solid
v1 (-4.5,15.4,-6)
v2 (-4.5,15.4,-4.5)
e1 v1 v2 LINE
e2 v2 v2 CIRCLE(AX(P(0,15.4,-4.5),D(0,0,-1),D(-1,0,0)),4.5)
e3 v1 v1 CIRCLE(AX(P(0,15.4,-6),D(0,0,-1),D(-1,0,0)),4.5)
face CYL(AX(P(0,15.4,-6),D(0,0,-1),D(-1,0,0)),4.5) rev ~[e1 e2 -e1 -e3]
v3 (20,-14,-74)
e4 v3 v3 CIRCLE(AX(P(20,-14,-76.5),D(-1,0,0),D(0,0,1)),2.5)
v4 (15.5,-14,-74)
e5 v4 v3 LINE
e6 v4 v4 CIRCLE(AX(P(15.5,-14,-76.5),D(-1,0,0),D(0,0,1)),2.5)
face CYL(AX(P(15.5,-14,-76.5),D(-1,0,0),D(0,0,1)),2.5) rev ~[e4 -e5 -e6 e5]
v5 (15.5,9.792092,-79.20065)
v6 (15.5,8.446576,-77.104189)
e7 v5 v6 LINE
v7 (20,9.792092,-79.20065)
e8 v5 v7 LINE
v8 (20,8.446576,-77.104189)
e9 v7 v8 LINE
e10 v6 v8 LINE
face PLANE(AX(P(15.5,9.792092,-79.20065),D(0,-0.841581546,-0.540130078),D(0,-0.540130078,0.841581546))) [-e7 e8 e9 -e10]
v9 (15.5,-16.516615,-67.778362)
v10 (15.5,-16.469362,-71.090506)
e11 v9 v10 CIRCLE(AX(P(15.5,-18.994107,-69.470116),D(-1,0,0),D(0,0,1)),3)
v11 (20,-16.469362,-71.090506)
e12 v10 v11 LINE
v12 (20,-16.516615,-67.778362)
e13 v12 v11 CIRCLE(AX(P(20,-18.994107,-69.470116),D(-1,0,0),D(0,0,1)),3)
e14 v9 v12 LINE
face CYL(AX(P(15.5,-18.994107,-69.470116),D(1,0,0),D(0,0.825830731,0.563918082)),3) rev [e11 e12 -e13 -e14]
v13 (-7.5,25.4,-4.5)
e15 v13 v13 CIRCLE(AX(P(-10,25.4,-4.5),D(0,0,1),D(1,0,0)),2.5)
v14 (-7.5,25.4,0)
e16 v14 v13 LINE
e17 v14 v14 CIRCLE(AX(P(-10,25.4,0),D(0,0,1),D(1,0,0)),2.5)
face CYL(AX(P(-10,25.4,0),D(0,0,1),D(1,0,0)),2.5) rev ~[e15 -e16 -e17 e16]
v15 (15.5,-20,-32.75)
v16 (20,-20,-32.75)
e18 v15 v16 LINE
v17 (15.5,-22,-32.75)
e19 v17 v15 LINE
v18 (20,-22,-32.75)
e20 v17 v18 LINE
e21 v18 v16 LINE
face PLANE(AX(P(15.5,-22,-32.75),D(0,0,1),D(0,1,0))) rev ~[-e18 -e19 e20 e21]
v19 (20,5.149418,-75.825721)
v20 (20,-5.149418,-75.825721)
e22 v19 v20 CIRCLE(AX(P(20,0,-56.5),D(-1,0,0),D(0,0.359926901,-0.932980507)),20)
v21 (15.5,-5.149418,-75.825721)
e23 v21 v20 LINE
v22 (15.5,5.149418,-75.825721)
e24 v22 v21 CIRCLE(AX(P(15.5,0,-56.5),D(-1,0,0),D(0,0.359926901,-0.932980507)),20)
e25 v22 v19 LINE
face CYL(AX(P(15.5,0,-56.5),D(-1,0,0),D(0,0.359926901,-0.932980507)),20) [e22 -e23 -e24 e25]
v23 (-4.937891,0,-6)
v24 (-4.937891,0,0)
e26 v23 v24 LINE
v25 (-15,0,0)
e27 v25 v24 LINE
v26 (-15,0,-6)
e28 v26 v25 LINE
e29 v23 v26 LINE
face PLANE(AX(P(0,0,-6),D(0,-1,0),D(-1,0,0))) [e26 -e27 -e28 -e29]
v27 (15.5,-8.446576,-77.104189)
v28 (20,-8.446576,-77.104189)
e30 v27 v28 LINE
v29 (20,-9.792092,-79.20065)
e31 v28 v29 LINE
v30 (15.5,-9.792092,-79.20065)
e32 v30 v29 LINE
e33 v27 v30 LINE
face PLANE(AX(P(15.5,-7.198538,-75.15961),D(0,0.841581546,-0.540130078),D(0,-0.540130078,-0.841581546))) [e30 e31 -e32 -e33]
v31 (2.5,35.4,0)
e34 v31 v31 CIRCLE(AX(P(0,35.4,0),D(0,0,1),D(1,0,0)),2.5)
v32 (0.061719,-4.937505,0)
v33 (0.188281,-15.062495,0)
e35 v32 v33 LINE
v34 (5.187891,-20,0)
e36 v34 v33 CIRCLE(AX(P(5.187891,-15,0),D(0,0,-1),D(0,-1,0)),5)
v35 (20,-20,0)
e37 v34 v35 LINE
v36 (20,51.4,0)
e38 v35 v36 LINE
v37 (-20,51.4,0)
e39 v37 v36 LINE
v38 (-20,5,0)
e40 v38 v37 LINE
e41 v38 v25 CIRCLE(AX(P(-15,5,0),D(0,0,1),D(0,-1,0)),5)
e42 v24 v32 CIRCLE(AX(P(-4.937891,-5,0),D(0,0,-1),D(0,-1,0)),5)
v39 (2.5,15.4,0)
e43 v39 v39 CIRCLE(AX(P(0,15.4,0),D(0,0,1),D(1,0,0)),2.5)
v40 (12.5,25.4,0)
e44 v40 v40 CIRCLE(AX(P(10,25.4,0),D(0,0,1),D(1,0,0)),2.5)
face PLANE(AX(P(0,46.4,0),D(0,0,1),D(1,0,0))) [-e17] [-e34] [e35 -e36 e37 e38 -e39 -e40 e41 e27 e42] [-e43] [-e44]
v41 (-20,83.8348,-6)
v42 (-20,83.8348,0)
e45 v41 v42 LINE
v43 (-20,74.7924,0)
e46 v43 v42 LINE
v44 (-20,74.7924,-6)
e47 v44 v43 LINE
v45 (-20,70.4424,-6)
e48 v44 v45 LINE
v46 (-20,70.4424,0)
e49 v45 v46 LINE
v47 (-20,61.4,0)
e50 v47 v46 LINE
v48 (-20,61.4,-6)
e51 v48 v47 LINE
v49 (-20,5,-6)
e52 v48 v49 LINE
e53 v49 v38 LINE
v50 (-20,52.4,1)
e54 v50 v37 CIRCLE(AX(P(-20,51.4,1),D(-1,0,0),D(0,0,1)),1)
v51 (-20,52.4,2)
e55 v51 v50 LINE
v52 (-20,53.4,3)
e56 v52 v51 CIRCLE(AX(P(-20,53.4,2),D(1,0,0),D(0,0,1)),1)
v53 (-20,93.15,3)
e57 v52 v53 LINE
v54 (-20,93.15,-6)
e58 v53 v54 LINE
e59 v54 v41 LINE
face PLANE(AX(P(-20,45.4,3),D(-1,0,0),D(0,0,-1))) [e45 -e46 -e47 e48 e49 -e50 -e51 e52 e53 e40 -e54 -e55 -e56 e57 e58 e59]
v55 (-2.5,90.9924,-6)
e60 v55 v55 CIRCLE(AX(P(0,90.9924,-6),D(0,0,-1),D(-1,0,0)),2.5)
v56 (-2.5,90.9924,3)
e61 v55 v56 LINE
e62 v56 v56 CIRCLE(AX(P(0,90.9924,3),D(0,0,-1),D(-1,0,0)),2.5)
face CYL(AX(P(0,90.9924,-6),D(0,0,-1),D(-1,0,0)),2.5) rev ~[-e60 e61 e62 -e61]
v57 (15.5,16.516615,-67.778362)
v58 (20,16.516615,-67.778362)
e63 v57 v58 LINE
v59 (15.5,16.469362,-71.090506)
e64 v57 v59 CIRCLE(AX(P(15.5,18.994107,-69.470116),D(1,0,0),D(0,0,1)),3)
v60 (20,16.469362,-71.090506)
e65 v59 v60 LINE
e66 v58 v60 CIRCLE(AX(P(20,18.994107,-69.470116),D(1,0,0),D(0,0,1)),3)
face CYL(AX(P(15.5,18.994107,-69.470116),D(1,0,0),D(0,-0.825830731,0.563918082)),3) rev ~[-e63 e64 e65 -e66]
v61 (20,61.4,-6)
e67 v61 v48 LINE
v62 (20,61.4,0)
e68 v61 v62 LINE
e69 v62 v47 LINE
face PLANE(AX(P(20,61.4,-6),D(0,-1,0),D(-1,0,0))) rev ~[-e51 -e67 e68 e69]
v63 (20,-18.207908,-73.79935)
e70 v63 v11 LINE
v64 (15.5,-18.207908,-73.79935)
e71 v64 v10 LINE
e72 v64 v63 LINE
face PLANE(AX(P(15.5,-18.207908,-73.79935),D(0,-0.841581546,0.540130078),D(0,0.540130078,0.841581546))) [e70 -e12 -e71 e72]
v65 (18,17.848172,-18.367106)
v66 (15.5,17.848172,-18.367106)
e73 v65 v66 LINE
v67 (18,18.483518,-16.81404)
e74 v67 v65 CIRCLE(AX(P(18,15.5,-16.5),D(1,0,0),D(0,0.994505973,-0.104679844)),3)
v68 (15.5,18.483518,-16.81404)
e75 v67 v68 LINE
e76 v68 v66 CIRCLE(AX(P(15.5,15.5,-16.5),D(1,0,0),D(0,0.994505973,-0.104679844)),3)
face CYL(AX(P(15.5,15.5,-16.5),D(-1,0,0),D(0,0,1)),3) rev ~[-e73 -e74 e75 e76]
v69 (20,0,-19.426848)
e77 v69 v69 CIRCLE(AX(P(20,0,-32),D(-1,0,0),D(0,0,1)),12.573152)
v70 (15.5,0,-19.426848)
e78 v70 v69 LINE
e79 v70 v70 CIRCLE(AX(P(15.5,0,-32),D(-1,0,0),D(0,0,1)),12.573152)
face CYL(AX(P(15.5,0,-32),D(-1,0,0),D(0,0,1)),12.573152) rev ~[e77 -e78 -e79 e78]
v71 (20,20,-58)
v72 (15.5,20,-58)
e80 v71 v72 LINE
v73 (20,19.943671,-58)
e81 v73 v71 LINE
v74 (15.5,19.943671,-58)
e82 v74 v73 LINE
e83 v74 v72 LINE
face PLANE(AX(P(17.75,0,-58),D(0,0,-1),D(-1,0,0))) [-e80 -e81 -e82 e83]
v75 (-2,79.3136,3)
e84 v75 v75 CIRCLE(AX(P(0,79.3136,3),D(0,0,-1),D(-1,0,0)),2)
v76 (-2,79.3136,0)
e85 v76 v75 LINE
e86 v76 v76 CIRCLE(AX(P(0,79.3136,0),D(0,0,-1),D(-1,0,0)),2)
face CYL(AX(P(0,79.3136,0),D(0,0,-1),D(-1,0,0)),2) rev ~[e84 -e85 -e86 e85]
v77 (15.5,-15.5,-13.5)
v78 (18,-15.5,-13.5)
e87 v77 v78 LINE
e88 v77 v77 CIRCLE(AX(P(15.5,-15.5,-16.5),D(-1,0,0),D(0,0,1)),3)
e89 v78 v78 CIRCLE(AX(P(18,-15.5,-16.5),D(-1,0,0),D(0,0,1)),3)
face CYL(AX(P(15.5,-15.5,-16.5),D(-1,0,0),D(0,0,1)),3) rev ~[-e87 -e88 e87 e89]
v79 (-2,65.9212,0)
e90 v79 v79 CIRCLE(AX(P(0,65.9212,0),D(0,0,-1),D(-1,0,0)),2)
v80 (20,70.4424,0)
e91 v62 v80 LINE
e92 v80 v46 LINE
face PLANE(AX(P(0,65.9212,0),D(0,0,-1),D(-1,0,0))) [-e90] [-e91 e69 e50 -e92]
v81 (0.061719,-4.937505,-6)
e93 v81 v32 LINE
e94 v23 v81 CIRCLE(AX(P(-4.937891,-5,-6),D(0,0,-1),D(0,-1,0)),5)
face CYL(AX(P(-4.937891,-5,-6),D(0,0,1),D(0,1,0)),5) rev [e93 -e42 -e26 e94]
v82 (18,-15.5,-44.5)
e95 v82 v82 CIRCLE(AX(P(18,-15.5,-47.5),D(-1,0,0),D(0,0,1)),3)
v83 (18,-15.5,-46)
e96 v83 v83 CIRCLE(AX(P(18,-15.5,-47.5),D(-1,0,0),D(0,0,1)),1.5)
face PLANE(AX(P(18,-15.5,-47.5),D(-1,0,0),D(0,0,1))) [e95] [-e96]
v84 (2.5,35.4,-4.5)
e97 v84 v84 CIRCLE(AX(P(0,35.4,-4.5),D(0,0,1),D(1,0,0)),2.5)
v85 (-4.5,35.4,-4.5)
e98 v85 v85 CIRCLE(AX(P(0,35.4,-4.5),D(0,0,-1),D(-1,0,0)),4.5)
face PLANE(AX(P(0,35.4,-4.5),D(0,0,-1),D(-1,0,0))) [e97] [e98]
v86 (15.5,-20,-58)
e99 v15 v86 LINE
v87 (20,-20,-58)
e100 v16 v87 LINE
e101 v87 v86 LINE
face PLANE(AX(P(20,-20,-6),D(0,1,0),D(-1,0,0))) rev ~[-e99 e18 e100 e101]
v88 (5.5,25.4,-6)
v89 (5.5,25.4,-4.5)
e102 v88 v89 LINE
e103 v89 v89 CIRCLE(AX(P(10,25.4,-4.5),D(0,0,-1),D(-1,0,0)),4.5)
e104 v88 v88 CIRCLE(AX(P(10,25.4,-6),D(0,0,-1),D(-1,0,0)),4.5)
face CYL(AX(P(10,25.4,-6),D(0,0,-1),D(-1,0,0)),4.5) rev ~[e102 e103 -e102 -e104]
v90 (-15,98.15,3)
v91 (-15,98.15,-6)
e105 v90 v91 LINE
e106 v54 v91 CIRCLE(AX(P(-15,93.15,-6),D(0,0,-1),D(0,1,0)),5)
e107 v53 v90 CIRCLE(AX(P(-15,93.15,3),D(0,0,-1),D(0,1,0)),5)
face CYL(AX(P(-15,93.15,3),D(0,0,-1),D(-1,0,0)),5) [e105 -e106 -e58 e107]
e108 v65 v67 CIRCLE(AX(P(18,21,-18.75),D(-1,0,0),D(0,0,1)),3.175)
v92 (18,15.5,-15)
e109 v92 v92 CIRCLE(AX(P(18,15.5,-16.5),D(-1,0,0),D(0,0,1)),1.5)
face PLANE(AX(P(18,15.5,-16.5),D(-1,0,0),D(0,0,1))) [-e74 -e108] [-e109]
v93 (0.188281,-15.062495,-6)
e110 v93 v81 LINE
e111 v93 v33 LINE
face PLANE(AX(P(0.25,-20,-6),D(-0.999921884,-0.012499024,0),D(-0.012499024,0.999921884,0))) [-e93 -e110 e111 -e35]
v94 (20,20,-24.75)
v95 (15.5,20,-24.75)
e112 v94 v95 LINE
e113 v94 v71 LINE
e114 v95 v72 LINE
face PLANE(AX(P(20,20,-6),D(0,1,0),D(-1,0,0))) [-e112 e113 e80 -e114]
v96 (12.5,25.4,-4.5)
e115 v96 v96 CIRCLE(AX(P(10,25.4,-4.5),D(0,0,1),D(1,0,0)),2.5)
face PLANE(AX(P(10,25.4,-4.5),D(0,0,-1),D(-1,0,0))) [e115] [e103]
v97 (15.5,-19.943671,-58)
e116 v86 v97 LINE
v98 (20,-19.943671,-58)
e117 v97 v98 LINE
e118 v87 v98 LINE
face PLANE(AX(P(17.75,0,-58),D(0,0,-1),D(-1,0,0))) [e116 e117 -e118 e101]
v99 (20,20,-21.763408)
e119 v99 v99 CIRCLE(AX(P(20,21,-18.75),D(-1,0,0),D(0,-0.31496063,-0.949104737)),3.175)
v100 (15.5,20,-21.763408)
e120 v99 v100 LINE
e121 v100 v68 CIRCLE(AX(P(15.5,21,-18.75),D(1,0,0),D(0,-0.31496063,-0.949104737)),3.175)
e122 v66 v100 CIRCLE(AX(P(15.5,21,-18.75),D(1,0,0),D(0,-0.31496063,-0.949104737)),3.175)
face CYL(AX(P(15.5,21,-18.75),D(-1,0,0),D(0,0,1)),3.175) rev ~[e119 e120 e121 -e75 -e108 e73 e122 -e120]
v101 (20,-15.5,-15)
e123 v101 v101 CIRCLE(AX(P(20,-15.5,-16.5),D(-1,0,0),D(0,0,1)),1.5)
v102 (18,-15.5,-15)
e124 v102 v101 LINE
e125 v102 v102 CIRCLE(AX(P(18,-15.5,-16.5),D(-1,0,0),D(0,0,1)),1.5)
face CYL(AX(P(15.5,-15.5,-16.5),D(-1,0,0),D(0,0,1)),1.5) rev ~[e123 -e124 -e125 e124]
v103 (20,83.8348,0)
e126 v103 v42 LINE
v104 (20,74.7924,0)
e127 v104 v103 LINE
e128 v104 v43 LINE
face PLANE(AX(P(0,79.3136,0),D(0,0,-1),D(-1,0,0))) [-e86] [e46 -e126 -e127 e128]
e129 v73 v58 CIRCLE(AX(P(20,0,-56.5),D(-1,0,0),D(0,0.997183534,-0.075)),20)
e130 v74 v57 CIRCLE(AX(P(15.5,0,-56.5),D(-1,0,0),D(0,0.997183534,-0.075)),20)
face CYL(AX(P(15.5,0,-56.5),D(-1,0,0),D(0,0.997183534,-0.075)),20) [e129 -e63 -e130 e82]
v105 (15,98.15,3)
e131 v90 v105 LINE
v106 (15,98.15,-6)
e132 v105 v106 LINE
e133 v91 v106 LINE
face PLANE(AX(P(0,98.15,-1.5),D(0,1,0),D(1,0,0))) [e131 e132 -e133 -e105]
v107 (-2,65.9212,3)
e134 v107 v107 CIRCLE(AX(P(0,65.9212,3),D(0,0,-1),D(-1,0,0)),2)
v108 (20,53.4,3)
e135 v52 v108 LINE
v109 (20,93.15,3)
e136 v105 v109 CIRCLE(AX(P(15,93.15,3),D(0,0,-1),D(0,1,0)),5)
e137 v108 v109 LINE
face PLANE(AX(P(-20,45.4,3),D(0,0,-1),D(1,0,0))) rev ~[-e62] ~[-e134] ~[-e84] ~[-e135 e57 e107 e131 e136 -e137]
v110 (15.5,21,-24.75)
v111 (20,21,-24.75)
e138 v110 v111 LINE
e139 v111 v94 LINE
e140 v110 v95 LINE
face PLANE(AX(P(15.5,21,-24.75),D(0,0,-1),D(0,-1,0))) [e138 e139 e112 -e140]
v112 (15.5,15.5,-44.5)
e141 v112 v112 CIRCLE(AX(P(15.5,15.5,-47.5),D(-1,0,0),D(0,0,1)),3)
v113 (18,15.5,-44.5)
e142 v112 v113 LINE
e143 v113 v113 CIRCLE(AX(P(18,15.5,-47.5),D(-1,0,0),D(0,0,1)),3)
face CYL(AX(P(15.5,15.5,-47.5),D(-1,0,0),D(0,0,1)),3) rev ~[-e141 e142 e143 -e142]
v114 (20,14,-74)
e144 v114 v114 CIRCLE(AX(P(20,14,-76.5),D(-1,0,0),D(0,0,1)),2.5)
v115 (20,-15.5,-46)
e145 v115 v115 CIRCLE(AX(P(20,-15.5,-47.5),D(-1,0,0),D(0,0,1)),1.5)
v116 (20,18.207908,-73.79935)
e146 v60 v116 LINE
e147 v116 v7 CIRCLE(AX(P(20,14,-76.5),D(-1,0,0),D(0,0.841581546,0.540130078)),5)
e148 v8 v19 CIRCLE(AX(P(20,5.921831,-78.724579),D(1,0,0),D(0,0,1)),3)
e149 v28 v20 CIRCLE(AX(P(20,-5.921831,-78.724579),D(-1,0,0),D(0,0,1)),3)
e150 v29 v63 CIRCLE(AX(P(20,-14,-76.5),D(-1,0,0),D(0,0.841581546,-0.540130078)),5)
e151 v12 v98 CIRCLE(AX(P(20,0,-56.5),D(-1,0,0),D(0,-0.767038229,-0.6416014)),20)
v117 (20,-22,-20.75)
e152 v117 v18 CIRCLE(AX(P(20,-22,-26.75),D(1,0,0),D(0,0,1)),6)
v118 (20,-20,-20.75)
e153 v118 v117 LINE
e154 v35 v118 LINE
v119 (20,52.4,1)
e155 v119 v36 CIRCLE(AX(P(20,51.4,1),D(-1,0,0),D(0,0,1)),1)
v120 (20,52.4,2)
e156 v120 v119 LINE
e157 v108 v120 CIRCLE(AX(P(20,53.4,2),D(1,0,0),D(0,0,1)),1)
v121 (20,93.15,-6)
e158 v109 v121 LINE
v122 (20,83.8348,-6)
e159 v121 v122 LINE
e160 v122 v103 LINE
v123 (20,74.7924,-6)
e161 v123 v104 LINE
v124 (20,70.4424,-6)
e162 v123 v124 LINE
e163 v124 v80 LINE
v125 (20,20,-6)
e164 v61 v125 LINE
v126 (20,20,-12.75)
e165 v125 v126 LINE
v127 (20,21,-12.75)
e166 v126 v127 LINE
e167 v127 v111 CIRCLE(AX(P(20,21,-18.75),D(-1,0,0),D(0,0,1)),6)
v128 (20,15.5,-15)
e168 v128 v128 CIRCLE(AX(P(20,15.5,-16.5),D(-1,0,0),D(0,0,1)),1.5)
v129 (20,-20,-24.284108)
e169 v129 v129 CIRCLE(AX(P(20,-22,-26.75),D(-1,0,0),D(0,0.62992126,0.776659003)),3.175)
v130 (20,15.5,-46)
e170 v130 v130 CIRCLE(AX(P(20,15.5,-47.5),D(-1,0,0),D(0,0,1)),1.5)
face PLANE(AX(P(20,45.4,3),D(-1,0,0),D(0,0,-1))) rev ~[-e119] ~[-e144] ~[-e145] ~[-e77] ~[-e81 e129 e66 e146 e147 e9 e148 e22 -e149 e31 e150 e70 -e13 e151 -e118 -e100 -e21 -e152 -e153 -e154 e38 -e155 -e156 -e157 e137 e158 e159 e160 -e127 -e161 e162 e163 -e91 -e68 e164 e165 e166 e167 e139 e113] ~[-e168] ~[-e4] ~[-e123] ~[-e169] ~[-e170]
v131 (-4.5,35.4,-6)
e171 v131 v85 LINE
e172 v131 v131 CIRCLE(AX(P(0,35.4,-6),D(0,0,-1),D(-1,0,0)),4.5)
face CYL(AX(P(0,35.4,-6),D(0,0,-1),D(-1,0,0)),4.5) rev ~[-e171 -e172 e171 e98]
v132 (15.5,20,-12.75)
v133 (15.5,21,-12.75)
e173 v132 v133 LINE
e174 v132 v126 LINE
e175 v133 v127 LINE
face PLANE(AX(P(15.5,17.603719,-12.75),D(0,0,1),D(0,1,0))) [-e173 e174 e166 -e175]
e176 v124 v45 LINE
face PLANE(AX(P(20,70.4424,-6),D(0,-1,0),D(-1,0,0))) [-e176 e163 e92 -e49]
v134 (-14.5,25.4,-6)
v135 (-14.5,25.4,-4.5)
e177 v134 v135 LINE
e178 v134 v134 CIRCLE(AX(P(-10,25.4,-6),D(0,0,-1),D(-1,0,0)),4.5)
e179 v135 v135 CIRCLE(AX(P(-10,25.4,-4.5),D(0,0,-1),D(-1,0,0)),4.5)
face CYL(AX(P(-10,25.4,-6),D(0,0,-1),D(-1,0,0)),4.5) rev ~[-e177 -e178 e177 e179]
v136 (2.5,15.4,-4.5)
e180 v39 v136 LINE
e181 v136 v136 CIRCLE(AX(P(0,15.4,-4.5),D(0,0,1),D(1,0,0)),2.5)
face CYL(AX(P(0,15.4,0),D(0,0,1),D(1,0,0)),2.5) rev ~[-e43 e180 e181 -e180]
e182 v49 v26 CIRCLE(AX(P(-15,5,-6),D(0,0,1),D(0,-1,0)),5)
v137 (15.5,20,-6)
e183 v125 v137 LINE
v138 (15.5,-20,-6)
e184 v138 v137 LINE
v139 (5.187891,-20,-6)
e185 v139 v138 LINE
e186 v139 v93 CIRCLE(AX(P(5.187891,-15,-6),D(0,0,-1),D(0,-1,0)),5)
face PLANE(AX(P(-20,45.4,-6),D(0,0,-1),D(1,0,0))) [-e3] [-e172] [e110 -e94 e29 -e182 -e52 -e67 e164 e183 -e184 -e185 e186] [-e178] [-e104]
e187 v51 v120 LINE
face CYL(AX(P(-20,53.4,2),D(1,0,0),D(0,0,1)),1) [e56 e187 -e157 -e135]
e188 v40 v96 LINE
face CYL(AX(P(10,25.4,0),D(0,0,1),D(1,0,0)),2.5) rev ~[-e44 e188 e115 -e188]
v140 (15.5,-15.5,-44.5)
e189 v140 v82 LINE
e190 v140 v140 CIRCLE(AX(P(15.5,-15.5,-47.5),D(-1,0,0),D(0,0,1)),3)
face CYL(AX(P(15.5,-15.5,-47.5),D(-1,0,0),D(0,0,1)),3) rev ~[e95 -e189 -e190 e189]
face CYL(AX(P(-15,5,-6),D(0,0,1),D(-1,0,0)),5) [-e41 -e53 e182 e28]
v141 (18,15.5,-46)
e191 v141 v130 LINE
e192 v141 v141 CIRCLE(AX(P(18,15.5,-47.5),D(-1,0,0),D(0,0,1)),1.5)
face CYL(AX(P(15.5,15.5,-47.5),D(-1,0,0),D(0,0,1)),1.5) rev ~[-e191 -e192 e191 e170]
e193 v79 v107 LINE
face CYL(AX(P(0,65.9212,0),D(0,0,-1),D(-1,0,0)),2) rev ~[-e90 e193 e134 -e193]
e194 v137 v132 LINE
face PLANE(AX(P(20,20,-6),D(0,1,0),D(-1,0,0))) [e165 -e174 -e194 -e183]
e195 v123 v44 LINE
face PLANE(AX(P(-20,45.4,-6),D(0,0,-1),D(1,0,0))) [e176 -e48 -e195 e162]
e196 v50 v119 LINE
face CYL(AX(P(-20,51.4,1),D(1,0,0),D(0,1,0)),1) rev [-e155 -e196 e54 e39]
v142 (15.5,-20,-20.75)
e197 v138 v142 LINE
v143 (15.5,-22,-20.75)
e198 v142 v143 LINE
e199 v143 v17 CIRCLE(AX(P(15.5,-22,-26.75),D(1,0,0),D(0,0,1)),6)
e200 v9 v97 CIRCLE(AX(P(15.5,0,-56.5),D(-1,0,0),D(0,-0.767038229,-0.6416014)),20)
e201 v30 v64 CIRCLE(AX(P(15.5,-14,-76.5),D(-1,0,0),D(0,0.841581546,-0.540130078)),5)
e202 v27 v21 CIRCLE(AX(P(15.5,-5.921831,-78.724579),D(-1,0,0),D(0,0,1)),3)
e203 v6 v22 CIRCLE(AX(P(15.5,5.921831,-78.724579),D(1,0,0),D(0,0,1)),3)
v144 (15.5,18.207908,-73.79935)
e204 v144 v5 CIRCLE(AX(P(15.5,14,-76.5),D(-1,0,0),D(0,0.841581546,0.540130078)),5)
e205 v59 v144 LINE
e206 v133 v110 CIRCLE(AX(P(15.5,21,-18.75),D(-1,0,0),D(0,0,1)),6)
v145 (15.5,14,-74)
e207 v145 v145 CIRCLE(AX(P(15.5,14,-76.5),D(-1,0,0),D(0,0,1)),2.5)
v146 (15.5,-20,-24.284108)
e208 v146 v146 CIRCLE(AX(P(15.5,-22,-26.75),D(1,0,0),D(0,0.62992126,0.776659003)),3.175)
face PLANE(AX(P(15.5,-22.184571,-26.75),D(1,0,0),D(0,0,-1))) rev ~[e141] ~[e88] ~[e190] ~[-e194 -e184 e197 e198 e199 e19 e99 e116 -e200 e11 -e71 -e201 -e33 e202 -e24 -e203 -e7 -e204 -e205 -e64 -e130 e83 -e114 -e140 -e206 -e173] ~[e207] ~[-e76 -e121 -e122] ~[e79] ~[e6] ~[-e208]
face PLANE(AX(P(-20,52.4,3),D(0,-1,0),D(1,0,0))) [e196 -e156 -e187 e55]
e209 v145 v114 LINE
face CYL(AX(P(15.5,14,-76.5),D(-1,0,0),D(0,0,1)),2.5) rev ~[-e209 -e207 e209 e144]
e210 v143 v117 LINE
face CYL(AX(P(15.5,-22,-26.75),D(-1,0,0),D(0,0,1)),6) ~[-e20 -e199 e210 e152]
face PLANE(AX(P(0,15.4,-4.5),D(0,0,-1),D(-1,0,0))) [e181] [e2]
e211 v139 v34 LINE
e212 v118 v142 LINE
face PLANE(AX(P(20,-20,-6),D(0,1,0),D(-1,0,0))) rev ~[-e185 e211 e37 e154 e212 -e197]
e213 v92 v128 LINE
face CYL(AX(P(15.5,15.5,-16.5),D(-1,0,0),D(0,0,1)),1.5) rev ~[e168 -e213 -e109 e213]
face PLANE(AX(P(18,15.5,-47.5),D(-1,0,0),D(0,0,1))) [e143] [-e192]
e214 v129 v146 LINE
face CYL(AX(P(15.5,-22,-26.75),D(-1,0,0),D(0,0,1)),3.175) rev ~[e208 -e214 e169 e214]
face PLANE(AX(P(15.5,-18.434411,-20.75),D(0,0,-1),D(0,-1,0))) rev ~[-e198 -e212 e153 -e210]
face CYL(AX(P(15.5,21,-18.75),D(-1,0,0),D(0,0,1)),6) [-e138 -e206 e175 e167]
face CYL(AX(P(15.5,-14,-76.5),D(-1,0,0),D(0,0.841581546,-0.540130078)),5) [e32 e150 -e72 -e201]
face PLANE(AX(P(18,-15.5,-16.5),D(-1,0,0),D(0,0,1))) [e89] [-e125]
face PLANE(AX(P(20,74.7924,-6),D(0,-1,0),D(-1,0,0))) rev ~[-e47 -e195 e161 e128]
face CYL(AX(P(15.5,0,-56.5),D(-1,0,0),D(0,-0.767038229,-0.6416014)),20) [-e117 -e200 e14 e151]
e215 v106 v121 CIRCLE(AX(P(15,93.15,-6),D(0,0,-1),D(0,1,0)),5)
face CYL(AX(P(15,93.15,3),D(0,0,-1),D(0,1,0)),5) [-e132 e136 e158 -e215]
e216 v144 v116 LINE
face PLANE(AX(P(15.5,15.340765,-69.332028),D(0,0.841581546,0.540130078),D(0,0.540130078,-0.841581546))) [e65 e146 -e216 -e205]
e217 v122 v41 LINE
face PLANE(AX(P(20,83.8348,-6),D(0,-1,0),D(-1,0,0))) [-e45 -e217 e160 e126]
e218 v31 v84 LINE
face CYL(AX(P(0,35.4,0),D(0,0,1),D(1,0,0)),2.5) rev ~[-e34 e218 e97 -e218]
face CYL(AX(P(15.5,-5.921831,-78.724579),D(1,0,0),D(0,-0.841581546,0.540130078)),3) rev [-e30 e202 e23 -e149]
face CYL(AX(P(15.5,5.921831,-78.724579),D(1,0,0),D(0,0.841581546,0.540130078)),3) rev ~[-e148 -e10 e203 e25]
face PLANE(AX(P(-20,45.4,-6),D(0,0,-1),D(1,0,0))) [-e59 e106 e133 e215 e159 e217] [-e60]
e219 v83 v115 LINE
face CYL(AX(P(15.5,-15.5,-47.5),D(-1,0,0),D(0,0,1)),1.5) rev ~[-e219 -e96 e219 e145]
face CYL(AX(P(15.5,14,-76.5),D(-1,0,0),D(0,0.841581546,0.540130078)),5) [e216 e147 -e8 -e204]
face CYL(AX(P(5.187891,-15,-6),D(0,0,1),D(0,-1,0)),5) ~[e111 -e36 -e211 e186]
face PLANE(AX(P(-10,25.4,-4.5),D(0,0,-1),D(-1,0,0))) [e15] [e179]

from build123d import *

# Parameters (mm, degrees)
SKETCH2_W            = 40
SKETCH2_H            = 65.4
SKETCH2_R            = 2.5
BOSS_EXTRUDE1_DEPTH  = 6
SKETCH3_W            = 4.5
SKETCH3_H            = 40
BOSS_EXTRUDE2_DEPTH  = 52
CUT_EXTRUDE1_REACH   = 6.5
SKETCH4_R            = 12.573151632
SKETCH4_R_2          = 1.5
SKETCH5_R            = 4.5
CUT_EXTRUDE2_DEPTH   = 1.5
SKETCH6_R            = 3
CUT_EXTRUDE3_DEPTH   = 2.5
FILLET1_R            = 5
SKETCH11_R           = 2.5
BOSS_EXTRUDE6_DEPTH  = 4.5
FILLET2_R            = 3
SKETCH9_R            = 3.175
BOSS_EXTRUDE15_DEPTH = 4.5
SKETCH24_R           = 3.175
CUT_EXTRUDE11_DEPTH  = 4.5
SKETCH15_R           = 3
CUT_EXTRUDE12_DEPTH  = 2.5
SKETCH25_W           = 40
SKETCH25_H           = 9
BOSS_EXTRUDE16_DEPTH = 52.75
SKETCH28_W           = 40
SKETCH28_H           = 2
CUT_EXTRUDE15_DEPTH  = 3
SKETCH33_W           = 40
SKETCH33_H           = 5
CUT_EXTRUDE18_DEPTH  = 3
FILLET7_R            = 1
FILLET8_R            = 5
SKETCH31_W           = 40
SKETCH31_H           = 9.0424
CUT_EXTRUDE16_DEPTH  = 6
SKETCH32_R           = 2
CUT_EXTRUDE17_DEPTH  = 4
SKETCH34_R           = 2.5
CUT_EXTRUDE19_DEPTH  = 9
CUT_EXTRUDE20_DEPTH  = 10
FILLET9_R            = 5


with BuildPart() as part:
    # Sketch2 → Boss-Extrude1 (new body)
    with BuildSketch(Plane.XY):
        with Locations((0, 12.7)):
            Rectangle(SKETCH2_W, SKETCH2_H)
        with Locations((0, 35.4)):
            Circle(SKETCH2_R, mode=Mode.SUBTRACT)
        with Locations((0, 15.4)):
            Circle(SKETCH2_R, mode=Mode.SUBTRACT)
        with Locations((-10, 25.4)):
            Circle(SKETCH2_R, mode=Mode.SUBTRACT)
        with Locations((10, 25.4)):
            Circle(SKETCH2_R, mode=Mode.SUBTRACT)
    extrude(amount=-BOSS_EXTRUDE1_DEPTH)

    # Sketch3 → Boss-Extrude2 (add)
    with BuildSketch(Plane(origin=(0, 0, -6), x_dir=(-1, 0, 0), z_dir=(0, 0, -1))):
        with Locations((-17.75, 0)):
            Rectangle(SKETCH3_W, SKETCH3_H)
    extrude(amount=BOSS_EXTRUDE2_DEPTH)

    # Sketch4 → Cut-Extrude1 (cut, up to next)
    with BuildSketch(Plane.ZY.offset(-15.5), mode=Mode.PRIVATE) as cut_extrude1_sk1:
        with Locations((-32, 0)):
            Circle(SKETCH4_R)
    cut_extrude1_tool1 = extrude(cut_extrude1_sk1.sketch, amount=-CUT_EXTRUDE1_REACH, mode=Mode.PRIVATE) & part.part
    add(cut_extrude1_tool1.solids().sort_by_distance((15.5, 0, -32))[0], mode=Mode.SUBTRACT)
    # Sketch4 → Cut-Extrude1 (cut, up to next)
    with BuildSketch(Plane.ZY.offset(-15.5), mode=Mode.PRIVATE) as cut_extrude1_sk2:
        with Locations((-16.5, 15.5)):
            Circle(SKETCH4_R_2)
    cut_extrude1_tool2 = extrude(cut_extrude1_sk2.sketch, amount=-CUT_EXTRUDE1_REACH, mode=Mode.PRIVATE) & part.part
    add(cut_extrude1_tool2.solids().sort_by_distance((15.5, 15.5, -16.5))[0], mode=Mode.SUBTRACT)
    # Sketch4 → Cut-Extrude1 (cut, up to next)
    with BuildSketch(Plane.ZY.offset(-15.5), mode=Mode.PRIVATE) as cut_extrude1_sk3:
        with Locations((-16.5, -15.5)):
            Circle(SKETCH4_R_2)
    cut_extrude1_tool3 = extrude(cut_extrude1_sk3.sketch, amount=-CUT_EXTRUDE1_REACH, mode=Mode.PRIVATE) & part.part
    add(cut_extrude1_tool3.solids().sort_by_distance((15.5, -15.5, -16.5))[0], mode=Mode.SUBTRACT)
    # Sketch4 → Cut-Extrude1 (cut, up to next)
    with BuildSketch(Plane.ZY.offset(-15.5), mode=Mode.PRIVATE) as cut_extrude1_sk4:
        with Locations((-47.5, -15.5)):
            Circle(SKETCH4_R_2)
    cut_extrude1_tool4 = extrude(cut_extrude1_sk4.sketch, amount=-CUT_EXTRUDE1_REACH, mode=Mode.PRIVATE) & part.part
    add(cut_extrude1_tool4.solids().sort_by_distance((15.5, -15.5, -47.5))[0], mode=Mode.SUBTRACT)
    # Sketch4 → Cut-Extrude1 (cut, up to next)
    with BuildSketch(Plane.ZY.offset(-15.5), mode=Mode.PRIVATE) as cut_extrude1_sk5:
        with Locations((-47.5, 15.5)):
            Circle(SKETCH4_R_2)
    cut_extrude1_tool5 = extrude(cut_extrude1_sk5.sketch, amount=-CUT_EXTRUDE1_REACH, mode=Mode.PRIVATE) & part.part
    add(cut_extrude1_tool5.solids().sort_by_distance((15.5, 15.5, -47.5))[0], mode=Mode.SUBTRACT)

    # Sketch5 → Cut-Extrude2 (cut)
    with BuildSketch(Plane(origin=(0, 0, -6), x_dir=(-1, 0, 0), z_dir=(0, 0, -1))):
        with Locations((0, 35.4)):
            Circle(SKETCH5_R)
        with Locations((10, 25.4)):
            Circle(SKETCH5_R)
        with Locations((0, 15.4)):
            Circle(SKETCH5_R)
        with Locations((-10, 25.4)):
            Circle(SKETCH5_R)
    extrude(amount=-CUT_EXTRUDE2_DEPTH, mode=Mode.SUBTRACT)

    # Sketch6 → Cut-Extrude3 (cut)
    with BuildSketch(Plane.ZY.offset(-15.5)):
        with Locations((-16.5, 15.5)):
            Circle(SKETCH6_R)
        with Locations((-47.5, 15.5)):
            Circle(SKETCH6_R)
        with Locations((-47.5, -15.5)):
            Circle(SKETCH6_R)
        with Locations((-16.5, -15.5)):
            Circle(SKETCH6_R)
    extrude(amount=-CUT_EXTRUDE3_DEPTH, mode=Mode.SUBTRACT)

    # Fillet1
    fillet1_edges = [part.edges().sort_by_distance(p)[0] for p in [
        (-20, -20, -3),
    ]]
    fillet(fillet1_edges, radius=FILLET1_R)

    # Sketch11 → Boss-Extrude6 (add)
    with BuildSketch(Plane.ZY.offset(-15.5)):
        with BuildLine():
            Line((-58, -19.943670675), (-58, 19.943670675))
            ThreePointArc((-58, 19.943670675), (-64.026515977, 18.5297479), (-69.332027993, 15.34076457))
            ThreePointArc((-69.332027993, 15.34076457), (-72.76360296, 11.640241353), (-75.159610133, 7.198538025))
            ThreePointArc((-75.159610133, 7.198538025), (-76.5, 0), (-75.159610133, -7.198538025))
            ThreePointArc((-75.159610133, -7.198538025), (-72.76360296, -11.640241353), (-69.332027993, -15.34076457))
            ThreePointArc((-69.332027993, -15.34076457), (-64.026515977, -18.5297479), (-58, -19.943670675))
        make_face()
        with BuildLine():
            ThreePointArc((-75.159610133, 7.198538025), (-72.76360296, 11.640241353), (-69.332027993, 15.34076457))
            Line((-69.332027993, 15.34076457), (-73.799349609, 18.20790773))
            ThreePointArc((-73.799349609, 18.20790773), (-80.70790773, 16.700650391), (-79.200650391, 9.79209227))
            Line((-79.200650391, 9.79209227), (-75.159610133, 7.198538025))
        make_face()
        with Locations((-76.5, 14)):
            Circle(SKETCH11_R, mode=Mode.SUBTRACT)
        with BuildLine():
            Line((-73.799349609, -18.20790773), (-69.332027993, -15.34076457))
            ThreePointArc((-69.332027993, -15.34076457), (-72.76360296, -11.640241353), (-75.159610133, -7.198538025))
            Line((-75.159610133, -7.198538025), (-79.200650391, -9.79209227))
            ThreePointArc((-79.200650391, -9.79209227), (-80.70790773, -16.700650391), (-73.799349609, -18.20790773))
        make_face()
        with Locations((-76.5, -14)):
            Circle(SKETCH11_R, mode=Mode.SUBTRACT)
    extrude(amount=-BOSS_EXTRUDE6_DEPTH)

    # Fillet2
    fillet2_edges = [part.edges().sort_by_distance(p)[0] for p in [
        (17.75, -15.34076457, -69.332027993),
        (17.75, -7.198538025, -75.159610133),
        (17.75, 7.198538025, -75.159610133),
        (17.75, 15.34076457, -69.332027993),
    ]]
    fillet(fillet2_edges, radius=FILLET2_R)

    # Sketch9 → Boss-Extrude15 (add)
    with BuildSketch(Plane.ZY.offset(-15.5)):
        with BuildLine():
            Line((-32.75, -22), (-32.75, -18.434411342))
            Line((-32.75, -18.434411342), (-20.75, -18.434411342))
            Line((-20.75, -18.434411342), (-20.75, -22))
            ThreePointArc((-20.75, -22), (-26.75, -28), (-32.75, -22))
        make_face()
        with Locations((-26.75, -22)):
            Circle(SKETCH9_R, mode=Mode.SUBTRACT)
        with BuildLine():
            Line((-24.75, 21), (-24.75, 17.603718698))
            Line((-24.75, 17.603718698), (-12.75, 17.603718698))
            Line((-12.75, 17.603718698), (-12.75, 21))
            ThreePointArc((-12.75, 21), (-18.75, 27), (-24.75, 21))
        make_face()
        with Locations((-18.75, 21)):
            Circle(SKETCH9_R, mode=Mode.SUBTRACT)
    extrude(amount=-BOSS_EXTRUDE15_DEPTH)

    # Sketch24 → Cut-Extrude11 (cut)
    with BuildSketch(Plane.ZY.offset(-15.5)):
        with Locations((-18.75, 21)):
            Circle(SKETCH24_R)
        with Locations((-26.75, -22)):
            Circle(SKETCH24_R)
    extrude(amount=-CUT_EXTRUDE11_DEPTH, mode=Mode.SUBTRACT)

    # Sketch15 → Cut-Extrude12 (cut)
    with BuildSketch(Plane.ZY.offset(-15.5)):
        with Locations((-16.5, 15.5)):
            Circle(SKETCH15_R)
    extrude(amount=-CUT_EXTRUDE12_DEPTH, mode=Mode.SUBTRACT)

    # Sketch25 → Boss-Extrude16 (add)
    with BuildSketch(Plane(origin=(0, 45.4, 0), x_dir=(1, 0, 0), z_dir=(0, 1, 0))):
        with Locations((0, 1.5)):
            Rectangle(SKETCH25_W, SKETCH25_H)
    extrude(amount=BOSS_EXTRUDE16_DEPTH)

    # Sketch28 → Cut-Extrude15 (cut)
    with BuildSketch(Plane.XY.offset(3)):
        with Locations((0, 46.4)):
            Rectangle(SKETCH28_W, SKETCH28_H)
    extrude(amount=-CUT_EXTRUDE15_DEPTH, mode=Mode.SUBTRACT)

    # Sketch33 → Cut-Extrude18 (cut)
    with BuildSketch(Plane.XY.offset(3)):
        with Locations((0, 49.9)):
            Rectangle(SKETCH33_W, SKETCH33_H)
    extrude(amount=-CUT_EXTRUDE18_DEPTH, mode=Mode.SUBTRACT)

    # Fillet7
    fillet7_edges = [part.edges().sort_by_distance(p)[0] for p in [
        (0, 52.4, 3),
        (0, 52.4, 0),
    ]]
    fillet(fillet7_edges, radius=FILLET7_R)

    # Fillet8
    fillet8_edges = [part.edges().sort_by_distance(p)[0] for p in [
        (20, 98.15, -1.5),
        (-20, 98.15, -1.5),
    ]]
    fillet(fillet8_edges, radius=FILLET8_R)

    # Sketch31 → Cut-Extrude16 (cut)
    with BuildSketch(Plane(origin=(0, 0, -6), x_dir=(-1, 0, 0), z_dir=(0, 0, -1))):
        with Locations((0, 65.9212)):
            Rectangle(SKETCH31_W, SKETCH31_H)
        with Locations((0, 79.3136)):
            Rectangle(SKETCH31_W, SKETCH31_H)
    extrude(amount=-CUT_EXTRUDE16_DEPTH, mode=Mode.SUBTRACT)

    # Sketch32 → Cut-Extrude17 (cut, through all)
    with BuildSketch(Plane(origin=(0, 0, 0), x_dir=(-1, 0, 0), z_dir=(0, 0, -1))):
        with Locations((0, 79.3136)):
            Circle(SKETCH32_R)
        with Locations((0, 65.9212)):
            Circle(SKETCH32_R)
    extrude(amount=-CUT_EXTRUDE17_DEPTH, mode=Mode.SUBTRACT)

    # Sketch34 → Cut-Extrude19 (cut)
    with BuildSketch(Plane(origin=(0, 0, -6), x_dir=(-1, 0, 0), z_dir=(0, 0, -1))):
        with Locations((0, 90.9924)):
            Circle(SKETCH34_R)
    extrude(amount=-CUT_EXTRUDE19_DEPTH, mode=Mode.SUBTRACT)

    # Sketch35 → Cut-Extrude20 (cut)
    with BuildSketch(Plane(origin=(0, 0, -6), x_dir=(-1, 0, 0), z_dir=(0, 0, -1))):
        Polygon((-0.25, -20), (0, 0), (20, 0), (20, -20), align=None)
    extrude(amount=-CUT_EXTRUDE20_DEPTH, mode=Mode.SUBTRACT)

    # Fillet9
    fillet9_edges = [part.edges().sort_by_distance(p)[0] for p in [
        (0.25, -20, -3),
        (0, 0, -3),
        (-20, 0, -3),
    ]]
    fillet(fillet9_edges, radius=FILLET9_R)


solid = part.part
